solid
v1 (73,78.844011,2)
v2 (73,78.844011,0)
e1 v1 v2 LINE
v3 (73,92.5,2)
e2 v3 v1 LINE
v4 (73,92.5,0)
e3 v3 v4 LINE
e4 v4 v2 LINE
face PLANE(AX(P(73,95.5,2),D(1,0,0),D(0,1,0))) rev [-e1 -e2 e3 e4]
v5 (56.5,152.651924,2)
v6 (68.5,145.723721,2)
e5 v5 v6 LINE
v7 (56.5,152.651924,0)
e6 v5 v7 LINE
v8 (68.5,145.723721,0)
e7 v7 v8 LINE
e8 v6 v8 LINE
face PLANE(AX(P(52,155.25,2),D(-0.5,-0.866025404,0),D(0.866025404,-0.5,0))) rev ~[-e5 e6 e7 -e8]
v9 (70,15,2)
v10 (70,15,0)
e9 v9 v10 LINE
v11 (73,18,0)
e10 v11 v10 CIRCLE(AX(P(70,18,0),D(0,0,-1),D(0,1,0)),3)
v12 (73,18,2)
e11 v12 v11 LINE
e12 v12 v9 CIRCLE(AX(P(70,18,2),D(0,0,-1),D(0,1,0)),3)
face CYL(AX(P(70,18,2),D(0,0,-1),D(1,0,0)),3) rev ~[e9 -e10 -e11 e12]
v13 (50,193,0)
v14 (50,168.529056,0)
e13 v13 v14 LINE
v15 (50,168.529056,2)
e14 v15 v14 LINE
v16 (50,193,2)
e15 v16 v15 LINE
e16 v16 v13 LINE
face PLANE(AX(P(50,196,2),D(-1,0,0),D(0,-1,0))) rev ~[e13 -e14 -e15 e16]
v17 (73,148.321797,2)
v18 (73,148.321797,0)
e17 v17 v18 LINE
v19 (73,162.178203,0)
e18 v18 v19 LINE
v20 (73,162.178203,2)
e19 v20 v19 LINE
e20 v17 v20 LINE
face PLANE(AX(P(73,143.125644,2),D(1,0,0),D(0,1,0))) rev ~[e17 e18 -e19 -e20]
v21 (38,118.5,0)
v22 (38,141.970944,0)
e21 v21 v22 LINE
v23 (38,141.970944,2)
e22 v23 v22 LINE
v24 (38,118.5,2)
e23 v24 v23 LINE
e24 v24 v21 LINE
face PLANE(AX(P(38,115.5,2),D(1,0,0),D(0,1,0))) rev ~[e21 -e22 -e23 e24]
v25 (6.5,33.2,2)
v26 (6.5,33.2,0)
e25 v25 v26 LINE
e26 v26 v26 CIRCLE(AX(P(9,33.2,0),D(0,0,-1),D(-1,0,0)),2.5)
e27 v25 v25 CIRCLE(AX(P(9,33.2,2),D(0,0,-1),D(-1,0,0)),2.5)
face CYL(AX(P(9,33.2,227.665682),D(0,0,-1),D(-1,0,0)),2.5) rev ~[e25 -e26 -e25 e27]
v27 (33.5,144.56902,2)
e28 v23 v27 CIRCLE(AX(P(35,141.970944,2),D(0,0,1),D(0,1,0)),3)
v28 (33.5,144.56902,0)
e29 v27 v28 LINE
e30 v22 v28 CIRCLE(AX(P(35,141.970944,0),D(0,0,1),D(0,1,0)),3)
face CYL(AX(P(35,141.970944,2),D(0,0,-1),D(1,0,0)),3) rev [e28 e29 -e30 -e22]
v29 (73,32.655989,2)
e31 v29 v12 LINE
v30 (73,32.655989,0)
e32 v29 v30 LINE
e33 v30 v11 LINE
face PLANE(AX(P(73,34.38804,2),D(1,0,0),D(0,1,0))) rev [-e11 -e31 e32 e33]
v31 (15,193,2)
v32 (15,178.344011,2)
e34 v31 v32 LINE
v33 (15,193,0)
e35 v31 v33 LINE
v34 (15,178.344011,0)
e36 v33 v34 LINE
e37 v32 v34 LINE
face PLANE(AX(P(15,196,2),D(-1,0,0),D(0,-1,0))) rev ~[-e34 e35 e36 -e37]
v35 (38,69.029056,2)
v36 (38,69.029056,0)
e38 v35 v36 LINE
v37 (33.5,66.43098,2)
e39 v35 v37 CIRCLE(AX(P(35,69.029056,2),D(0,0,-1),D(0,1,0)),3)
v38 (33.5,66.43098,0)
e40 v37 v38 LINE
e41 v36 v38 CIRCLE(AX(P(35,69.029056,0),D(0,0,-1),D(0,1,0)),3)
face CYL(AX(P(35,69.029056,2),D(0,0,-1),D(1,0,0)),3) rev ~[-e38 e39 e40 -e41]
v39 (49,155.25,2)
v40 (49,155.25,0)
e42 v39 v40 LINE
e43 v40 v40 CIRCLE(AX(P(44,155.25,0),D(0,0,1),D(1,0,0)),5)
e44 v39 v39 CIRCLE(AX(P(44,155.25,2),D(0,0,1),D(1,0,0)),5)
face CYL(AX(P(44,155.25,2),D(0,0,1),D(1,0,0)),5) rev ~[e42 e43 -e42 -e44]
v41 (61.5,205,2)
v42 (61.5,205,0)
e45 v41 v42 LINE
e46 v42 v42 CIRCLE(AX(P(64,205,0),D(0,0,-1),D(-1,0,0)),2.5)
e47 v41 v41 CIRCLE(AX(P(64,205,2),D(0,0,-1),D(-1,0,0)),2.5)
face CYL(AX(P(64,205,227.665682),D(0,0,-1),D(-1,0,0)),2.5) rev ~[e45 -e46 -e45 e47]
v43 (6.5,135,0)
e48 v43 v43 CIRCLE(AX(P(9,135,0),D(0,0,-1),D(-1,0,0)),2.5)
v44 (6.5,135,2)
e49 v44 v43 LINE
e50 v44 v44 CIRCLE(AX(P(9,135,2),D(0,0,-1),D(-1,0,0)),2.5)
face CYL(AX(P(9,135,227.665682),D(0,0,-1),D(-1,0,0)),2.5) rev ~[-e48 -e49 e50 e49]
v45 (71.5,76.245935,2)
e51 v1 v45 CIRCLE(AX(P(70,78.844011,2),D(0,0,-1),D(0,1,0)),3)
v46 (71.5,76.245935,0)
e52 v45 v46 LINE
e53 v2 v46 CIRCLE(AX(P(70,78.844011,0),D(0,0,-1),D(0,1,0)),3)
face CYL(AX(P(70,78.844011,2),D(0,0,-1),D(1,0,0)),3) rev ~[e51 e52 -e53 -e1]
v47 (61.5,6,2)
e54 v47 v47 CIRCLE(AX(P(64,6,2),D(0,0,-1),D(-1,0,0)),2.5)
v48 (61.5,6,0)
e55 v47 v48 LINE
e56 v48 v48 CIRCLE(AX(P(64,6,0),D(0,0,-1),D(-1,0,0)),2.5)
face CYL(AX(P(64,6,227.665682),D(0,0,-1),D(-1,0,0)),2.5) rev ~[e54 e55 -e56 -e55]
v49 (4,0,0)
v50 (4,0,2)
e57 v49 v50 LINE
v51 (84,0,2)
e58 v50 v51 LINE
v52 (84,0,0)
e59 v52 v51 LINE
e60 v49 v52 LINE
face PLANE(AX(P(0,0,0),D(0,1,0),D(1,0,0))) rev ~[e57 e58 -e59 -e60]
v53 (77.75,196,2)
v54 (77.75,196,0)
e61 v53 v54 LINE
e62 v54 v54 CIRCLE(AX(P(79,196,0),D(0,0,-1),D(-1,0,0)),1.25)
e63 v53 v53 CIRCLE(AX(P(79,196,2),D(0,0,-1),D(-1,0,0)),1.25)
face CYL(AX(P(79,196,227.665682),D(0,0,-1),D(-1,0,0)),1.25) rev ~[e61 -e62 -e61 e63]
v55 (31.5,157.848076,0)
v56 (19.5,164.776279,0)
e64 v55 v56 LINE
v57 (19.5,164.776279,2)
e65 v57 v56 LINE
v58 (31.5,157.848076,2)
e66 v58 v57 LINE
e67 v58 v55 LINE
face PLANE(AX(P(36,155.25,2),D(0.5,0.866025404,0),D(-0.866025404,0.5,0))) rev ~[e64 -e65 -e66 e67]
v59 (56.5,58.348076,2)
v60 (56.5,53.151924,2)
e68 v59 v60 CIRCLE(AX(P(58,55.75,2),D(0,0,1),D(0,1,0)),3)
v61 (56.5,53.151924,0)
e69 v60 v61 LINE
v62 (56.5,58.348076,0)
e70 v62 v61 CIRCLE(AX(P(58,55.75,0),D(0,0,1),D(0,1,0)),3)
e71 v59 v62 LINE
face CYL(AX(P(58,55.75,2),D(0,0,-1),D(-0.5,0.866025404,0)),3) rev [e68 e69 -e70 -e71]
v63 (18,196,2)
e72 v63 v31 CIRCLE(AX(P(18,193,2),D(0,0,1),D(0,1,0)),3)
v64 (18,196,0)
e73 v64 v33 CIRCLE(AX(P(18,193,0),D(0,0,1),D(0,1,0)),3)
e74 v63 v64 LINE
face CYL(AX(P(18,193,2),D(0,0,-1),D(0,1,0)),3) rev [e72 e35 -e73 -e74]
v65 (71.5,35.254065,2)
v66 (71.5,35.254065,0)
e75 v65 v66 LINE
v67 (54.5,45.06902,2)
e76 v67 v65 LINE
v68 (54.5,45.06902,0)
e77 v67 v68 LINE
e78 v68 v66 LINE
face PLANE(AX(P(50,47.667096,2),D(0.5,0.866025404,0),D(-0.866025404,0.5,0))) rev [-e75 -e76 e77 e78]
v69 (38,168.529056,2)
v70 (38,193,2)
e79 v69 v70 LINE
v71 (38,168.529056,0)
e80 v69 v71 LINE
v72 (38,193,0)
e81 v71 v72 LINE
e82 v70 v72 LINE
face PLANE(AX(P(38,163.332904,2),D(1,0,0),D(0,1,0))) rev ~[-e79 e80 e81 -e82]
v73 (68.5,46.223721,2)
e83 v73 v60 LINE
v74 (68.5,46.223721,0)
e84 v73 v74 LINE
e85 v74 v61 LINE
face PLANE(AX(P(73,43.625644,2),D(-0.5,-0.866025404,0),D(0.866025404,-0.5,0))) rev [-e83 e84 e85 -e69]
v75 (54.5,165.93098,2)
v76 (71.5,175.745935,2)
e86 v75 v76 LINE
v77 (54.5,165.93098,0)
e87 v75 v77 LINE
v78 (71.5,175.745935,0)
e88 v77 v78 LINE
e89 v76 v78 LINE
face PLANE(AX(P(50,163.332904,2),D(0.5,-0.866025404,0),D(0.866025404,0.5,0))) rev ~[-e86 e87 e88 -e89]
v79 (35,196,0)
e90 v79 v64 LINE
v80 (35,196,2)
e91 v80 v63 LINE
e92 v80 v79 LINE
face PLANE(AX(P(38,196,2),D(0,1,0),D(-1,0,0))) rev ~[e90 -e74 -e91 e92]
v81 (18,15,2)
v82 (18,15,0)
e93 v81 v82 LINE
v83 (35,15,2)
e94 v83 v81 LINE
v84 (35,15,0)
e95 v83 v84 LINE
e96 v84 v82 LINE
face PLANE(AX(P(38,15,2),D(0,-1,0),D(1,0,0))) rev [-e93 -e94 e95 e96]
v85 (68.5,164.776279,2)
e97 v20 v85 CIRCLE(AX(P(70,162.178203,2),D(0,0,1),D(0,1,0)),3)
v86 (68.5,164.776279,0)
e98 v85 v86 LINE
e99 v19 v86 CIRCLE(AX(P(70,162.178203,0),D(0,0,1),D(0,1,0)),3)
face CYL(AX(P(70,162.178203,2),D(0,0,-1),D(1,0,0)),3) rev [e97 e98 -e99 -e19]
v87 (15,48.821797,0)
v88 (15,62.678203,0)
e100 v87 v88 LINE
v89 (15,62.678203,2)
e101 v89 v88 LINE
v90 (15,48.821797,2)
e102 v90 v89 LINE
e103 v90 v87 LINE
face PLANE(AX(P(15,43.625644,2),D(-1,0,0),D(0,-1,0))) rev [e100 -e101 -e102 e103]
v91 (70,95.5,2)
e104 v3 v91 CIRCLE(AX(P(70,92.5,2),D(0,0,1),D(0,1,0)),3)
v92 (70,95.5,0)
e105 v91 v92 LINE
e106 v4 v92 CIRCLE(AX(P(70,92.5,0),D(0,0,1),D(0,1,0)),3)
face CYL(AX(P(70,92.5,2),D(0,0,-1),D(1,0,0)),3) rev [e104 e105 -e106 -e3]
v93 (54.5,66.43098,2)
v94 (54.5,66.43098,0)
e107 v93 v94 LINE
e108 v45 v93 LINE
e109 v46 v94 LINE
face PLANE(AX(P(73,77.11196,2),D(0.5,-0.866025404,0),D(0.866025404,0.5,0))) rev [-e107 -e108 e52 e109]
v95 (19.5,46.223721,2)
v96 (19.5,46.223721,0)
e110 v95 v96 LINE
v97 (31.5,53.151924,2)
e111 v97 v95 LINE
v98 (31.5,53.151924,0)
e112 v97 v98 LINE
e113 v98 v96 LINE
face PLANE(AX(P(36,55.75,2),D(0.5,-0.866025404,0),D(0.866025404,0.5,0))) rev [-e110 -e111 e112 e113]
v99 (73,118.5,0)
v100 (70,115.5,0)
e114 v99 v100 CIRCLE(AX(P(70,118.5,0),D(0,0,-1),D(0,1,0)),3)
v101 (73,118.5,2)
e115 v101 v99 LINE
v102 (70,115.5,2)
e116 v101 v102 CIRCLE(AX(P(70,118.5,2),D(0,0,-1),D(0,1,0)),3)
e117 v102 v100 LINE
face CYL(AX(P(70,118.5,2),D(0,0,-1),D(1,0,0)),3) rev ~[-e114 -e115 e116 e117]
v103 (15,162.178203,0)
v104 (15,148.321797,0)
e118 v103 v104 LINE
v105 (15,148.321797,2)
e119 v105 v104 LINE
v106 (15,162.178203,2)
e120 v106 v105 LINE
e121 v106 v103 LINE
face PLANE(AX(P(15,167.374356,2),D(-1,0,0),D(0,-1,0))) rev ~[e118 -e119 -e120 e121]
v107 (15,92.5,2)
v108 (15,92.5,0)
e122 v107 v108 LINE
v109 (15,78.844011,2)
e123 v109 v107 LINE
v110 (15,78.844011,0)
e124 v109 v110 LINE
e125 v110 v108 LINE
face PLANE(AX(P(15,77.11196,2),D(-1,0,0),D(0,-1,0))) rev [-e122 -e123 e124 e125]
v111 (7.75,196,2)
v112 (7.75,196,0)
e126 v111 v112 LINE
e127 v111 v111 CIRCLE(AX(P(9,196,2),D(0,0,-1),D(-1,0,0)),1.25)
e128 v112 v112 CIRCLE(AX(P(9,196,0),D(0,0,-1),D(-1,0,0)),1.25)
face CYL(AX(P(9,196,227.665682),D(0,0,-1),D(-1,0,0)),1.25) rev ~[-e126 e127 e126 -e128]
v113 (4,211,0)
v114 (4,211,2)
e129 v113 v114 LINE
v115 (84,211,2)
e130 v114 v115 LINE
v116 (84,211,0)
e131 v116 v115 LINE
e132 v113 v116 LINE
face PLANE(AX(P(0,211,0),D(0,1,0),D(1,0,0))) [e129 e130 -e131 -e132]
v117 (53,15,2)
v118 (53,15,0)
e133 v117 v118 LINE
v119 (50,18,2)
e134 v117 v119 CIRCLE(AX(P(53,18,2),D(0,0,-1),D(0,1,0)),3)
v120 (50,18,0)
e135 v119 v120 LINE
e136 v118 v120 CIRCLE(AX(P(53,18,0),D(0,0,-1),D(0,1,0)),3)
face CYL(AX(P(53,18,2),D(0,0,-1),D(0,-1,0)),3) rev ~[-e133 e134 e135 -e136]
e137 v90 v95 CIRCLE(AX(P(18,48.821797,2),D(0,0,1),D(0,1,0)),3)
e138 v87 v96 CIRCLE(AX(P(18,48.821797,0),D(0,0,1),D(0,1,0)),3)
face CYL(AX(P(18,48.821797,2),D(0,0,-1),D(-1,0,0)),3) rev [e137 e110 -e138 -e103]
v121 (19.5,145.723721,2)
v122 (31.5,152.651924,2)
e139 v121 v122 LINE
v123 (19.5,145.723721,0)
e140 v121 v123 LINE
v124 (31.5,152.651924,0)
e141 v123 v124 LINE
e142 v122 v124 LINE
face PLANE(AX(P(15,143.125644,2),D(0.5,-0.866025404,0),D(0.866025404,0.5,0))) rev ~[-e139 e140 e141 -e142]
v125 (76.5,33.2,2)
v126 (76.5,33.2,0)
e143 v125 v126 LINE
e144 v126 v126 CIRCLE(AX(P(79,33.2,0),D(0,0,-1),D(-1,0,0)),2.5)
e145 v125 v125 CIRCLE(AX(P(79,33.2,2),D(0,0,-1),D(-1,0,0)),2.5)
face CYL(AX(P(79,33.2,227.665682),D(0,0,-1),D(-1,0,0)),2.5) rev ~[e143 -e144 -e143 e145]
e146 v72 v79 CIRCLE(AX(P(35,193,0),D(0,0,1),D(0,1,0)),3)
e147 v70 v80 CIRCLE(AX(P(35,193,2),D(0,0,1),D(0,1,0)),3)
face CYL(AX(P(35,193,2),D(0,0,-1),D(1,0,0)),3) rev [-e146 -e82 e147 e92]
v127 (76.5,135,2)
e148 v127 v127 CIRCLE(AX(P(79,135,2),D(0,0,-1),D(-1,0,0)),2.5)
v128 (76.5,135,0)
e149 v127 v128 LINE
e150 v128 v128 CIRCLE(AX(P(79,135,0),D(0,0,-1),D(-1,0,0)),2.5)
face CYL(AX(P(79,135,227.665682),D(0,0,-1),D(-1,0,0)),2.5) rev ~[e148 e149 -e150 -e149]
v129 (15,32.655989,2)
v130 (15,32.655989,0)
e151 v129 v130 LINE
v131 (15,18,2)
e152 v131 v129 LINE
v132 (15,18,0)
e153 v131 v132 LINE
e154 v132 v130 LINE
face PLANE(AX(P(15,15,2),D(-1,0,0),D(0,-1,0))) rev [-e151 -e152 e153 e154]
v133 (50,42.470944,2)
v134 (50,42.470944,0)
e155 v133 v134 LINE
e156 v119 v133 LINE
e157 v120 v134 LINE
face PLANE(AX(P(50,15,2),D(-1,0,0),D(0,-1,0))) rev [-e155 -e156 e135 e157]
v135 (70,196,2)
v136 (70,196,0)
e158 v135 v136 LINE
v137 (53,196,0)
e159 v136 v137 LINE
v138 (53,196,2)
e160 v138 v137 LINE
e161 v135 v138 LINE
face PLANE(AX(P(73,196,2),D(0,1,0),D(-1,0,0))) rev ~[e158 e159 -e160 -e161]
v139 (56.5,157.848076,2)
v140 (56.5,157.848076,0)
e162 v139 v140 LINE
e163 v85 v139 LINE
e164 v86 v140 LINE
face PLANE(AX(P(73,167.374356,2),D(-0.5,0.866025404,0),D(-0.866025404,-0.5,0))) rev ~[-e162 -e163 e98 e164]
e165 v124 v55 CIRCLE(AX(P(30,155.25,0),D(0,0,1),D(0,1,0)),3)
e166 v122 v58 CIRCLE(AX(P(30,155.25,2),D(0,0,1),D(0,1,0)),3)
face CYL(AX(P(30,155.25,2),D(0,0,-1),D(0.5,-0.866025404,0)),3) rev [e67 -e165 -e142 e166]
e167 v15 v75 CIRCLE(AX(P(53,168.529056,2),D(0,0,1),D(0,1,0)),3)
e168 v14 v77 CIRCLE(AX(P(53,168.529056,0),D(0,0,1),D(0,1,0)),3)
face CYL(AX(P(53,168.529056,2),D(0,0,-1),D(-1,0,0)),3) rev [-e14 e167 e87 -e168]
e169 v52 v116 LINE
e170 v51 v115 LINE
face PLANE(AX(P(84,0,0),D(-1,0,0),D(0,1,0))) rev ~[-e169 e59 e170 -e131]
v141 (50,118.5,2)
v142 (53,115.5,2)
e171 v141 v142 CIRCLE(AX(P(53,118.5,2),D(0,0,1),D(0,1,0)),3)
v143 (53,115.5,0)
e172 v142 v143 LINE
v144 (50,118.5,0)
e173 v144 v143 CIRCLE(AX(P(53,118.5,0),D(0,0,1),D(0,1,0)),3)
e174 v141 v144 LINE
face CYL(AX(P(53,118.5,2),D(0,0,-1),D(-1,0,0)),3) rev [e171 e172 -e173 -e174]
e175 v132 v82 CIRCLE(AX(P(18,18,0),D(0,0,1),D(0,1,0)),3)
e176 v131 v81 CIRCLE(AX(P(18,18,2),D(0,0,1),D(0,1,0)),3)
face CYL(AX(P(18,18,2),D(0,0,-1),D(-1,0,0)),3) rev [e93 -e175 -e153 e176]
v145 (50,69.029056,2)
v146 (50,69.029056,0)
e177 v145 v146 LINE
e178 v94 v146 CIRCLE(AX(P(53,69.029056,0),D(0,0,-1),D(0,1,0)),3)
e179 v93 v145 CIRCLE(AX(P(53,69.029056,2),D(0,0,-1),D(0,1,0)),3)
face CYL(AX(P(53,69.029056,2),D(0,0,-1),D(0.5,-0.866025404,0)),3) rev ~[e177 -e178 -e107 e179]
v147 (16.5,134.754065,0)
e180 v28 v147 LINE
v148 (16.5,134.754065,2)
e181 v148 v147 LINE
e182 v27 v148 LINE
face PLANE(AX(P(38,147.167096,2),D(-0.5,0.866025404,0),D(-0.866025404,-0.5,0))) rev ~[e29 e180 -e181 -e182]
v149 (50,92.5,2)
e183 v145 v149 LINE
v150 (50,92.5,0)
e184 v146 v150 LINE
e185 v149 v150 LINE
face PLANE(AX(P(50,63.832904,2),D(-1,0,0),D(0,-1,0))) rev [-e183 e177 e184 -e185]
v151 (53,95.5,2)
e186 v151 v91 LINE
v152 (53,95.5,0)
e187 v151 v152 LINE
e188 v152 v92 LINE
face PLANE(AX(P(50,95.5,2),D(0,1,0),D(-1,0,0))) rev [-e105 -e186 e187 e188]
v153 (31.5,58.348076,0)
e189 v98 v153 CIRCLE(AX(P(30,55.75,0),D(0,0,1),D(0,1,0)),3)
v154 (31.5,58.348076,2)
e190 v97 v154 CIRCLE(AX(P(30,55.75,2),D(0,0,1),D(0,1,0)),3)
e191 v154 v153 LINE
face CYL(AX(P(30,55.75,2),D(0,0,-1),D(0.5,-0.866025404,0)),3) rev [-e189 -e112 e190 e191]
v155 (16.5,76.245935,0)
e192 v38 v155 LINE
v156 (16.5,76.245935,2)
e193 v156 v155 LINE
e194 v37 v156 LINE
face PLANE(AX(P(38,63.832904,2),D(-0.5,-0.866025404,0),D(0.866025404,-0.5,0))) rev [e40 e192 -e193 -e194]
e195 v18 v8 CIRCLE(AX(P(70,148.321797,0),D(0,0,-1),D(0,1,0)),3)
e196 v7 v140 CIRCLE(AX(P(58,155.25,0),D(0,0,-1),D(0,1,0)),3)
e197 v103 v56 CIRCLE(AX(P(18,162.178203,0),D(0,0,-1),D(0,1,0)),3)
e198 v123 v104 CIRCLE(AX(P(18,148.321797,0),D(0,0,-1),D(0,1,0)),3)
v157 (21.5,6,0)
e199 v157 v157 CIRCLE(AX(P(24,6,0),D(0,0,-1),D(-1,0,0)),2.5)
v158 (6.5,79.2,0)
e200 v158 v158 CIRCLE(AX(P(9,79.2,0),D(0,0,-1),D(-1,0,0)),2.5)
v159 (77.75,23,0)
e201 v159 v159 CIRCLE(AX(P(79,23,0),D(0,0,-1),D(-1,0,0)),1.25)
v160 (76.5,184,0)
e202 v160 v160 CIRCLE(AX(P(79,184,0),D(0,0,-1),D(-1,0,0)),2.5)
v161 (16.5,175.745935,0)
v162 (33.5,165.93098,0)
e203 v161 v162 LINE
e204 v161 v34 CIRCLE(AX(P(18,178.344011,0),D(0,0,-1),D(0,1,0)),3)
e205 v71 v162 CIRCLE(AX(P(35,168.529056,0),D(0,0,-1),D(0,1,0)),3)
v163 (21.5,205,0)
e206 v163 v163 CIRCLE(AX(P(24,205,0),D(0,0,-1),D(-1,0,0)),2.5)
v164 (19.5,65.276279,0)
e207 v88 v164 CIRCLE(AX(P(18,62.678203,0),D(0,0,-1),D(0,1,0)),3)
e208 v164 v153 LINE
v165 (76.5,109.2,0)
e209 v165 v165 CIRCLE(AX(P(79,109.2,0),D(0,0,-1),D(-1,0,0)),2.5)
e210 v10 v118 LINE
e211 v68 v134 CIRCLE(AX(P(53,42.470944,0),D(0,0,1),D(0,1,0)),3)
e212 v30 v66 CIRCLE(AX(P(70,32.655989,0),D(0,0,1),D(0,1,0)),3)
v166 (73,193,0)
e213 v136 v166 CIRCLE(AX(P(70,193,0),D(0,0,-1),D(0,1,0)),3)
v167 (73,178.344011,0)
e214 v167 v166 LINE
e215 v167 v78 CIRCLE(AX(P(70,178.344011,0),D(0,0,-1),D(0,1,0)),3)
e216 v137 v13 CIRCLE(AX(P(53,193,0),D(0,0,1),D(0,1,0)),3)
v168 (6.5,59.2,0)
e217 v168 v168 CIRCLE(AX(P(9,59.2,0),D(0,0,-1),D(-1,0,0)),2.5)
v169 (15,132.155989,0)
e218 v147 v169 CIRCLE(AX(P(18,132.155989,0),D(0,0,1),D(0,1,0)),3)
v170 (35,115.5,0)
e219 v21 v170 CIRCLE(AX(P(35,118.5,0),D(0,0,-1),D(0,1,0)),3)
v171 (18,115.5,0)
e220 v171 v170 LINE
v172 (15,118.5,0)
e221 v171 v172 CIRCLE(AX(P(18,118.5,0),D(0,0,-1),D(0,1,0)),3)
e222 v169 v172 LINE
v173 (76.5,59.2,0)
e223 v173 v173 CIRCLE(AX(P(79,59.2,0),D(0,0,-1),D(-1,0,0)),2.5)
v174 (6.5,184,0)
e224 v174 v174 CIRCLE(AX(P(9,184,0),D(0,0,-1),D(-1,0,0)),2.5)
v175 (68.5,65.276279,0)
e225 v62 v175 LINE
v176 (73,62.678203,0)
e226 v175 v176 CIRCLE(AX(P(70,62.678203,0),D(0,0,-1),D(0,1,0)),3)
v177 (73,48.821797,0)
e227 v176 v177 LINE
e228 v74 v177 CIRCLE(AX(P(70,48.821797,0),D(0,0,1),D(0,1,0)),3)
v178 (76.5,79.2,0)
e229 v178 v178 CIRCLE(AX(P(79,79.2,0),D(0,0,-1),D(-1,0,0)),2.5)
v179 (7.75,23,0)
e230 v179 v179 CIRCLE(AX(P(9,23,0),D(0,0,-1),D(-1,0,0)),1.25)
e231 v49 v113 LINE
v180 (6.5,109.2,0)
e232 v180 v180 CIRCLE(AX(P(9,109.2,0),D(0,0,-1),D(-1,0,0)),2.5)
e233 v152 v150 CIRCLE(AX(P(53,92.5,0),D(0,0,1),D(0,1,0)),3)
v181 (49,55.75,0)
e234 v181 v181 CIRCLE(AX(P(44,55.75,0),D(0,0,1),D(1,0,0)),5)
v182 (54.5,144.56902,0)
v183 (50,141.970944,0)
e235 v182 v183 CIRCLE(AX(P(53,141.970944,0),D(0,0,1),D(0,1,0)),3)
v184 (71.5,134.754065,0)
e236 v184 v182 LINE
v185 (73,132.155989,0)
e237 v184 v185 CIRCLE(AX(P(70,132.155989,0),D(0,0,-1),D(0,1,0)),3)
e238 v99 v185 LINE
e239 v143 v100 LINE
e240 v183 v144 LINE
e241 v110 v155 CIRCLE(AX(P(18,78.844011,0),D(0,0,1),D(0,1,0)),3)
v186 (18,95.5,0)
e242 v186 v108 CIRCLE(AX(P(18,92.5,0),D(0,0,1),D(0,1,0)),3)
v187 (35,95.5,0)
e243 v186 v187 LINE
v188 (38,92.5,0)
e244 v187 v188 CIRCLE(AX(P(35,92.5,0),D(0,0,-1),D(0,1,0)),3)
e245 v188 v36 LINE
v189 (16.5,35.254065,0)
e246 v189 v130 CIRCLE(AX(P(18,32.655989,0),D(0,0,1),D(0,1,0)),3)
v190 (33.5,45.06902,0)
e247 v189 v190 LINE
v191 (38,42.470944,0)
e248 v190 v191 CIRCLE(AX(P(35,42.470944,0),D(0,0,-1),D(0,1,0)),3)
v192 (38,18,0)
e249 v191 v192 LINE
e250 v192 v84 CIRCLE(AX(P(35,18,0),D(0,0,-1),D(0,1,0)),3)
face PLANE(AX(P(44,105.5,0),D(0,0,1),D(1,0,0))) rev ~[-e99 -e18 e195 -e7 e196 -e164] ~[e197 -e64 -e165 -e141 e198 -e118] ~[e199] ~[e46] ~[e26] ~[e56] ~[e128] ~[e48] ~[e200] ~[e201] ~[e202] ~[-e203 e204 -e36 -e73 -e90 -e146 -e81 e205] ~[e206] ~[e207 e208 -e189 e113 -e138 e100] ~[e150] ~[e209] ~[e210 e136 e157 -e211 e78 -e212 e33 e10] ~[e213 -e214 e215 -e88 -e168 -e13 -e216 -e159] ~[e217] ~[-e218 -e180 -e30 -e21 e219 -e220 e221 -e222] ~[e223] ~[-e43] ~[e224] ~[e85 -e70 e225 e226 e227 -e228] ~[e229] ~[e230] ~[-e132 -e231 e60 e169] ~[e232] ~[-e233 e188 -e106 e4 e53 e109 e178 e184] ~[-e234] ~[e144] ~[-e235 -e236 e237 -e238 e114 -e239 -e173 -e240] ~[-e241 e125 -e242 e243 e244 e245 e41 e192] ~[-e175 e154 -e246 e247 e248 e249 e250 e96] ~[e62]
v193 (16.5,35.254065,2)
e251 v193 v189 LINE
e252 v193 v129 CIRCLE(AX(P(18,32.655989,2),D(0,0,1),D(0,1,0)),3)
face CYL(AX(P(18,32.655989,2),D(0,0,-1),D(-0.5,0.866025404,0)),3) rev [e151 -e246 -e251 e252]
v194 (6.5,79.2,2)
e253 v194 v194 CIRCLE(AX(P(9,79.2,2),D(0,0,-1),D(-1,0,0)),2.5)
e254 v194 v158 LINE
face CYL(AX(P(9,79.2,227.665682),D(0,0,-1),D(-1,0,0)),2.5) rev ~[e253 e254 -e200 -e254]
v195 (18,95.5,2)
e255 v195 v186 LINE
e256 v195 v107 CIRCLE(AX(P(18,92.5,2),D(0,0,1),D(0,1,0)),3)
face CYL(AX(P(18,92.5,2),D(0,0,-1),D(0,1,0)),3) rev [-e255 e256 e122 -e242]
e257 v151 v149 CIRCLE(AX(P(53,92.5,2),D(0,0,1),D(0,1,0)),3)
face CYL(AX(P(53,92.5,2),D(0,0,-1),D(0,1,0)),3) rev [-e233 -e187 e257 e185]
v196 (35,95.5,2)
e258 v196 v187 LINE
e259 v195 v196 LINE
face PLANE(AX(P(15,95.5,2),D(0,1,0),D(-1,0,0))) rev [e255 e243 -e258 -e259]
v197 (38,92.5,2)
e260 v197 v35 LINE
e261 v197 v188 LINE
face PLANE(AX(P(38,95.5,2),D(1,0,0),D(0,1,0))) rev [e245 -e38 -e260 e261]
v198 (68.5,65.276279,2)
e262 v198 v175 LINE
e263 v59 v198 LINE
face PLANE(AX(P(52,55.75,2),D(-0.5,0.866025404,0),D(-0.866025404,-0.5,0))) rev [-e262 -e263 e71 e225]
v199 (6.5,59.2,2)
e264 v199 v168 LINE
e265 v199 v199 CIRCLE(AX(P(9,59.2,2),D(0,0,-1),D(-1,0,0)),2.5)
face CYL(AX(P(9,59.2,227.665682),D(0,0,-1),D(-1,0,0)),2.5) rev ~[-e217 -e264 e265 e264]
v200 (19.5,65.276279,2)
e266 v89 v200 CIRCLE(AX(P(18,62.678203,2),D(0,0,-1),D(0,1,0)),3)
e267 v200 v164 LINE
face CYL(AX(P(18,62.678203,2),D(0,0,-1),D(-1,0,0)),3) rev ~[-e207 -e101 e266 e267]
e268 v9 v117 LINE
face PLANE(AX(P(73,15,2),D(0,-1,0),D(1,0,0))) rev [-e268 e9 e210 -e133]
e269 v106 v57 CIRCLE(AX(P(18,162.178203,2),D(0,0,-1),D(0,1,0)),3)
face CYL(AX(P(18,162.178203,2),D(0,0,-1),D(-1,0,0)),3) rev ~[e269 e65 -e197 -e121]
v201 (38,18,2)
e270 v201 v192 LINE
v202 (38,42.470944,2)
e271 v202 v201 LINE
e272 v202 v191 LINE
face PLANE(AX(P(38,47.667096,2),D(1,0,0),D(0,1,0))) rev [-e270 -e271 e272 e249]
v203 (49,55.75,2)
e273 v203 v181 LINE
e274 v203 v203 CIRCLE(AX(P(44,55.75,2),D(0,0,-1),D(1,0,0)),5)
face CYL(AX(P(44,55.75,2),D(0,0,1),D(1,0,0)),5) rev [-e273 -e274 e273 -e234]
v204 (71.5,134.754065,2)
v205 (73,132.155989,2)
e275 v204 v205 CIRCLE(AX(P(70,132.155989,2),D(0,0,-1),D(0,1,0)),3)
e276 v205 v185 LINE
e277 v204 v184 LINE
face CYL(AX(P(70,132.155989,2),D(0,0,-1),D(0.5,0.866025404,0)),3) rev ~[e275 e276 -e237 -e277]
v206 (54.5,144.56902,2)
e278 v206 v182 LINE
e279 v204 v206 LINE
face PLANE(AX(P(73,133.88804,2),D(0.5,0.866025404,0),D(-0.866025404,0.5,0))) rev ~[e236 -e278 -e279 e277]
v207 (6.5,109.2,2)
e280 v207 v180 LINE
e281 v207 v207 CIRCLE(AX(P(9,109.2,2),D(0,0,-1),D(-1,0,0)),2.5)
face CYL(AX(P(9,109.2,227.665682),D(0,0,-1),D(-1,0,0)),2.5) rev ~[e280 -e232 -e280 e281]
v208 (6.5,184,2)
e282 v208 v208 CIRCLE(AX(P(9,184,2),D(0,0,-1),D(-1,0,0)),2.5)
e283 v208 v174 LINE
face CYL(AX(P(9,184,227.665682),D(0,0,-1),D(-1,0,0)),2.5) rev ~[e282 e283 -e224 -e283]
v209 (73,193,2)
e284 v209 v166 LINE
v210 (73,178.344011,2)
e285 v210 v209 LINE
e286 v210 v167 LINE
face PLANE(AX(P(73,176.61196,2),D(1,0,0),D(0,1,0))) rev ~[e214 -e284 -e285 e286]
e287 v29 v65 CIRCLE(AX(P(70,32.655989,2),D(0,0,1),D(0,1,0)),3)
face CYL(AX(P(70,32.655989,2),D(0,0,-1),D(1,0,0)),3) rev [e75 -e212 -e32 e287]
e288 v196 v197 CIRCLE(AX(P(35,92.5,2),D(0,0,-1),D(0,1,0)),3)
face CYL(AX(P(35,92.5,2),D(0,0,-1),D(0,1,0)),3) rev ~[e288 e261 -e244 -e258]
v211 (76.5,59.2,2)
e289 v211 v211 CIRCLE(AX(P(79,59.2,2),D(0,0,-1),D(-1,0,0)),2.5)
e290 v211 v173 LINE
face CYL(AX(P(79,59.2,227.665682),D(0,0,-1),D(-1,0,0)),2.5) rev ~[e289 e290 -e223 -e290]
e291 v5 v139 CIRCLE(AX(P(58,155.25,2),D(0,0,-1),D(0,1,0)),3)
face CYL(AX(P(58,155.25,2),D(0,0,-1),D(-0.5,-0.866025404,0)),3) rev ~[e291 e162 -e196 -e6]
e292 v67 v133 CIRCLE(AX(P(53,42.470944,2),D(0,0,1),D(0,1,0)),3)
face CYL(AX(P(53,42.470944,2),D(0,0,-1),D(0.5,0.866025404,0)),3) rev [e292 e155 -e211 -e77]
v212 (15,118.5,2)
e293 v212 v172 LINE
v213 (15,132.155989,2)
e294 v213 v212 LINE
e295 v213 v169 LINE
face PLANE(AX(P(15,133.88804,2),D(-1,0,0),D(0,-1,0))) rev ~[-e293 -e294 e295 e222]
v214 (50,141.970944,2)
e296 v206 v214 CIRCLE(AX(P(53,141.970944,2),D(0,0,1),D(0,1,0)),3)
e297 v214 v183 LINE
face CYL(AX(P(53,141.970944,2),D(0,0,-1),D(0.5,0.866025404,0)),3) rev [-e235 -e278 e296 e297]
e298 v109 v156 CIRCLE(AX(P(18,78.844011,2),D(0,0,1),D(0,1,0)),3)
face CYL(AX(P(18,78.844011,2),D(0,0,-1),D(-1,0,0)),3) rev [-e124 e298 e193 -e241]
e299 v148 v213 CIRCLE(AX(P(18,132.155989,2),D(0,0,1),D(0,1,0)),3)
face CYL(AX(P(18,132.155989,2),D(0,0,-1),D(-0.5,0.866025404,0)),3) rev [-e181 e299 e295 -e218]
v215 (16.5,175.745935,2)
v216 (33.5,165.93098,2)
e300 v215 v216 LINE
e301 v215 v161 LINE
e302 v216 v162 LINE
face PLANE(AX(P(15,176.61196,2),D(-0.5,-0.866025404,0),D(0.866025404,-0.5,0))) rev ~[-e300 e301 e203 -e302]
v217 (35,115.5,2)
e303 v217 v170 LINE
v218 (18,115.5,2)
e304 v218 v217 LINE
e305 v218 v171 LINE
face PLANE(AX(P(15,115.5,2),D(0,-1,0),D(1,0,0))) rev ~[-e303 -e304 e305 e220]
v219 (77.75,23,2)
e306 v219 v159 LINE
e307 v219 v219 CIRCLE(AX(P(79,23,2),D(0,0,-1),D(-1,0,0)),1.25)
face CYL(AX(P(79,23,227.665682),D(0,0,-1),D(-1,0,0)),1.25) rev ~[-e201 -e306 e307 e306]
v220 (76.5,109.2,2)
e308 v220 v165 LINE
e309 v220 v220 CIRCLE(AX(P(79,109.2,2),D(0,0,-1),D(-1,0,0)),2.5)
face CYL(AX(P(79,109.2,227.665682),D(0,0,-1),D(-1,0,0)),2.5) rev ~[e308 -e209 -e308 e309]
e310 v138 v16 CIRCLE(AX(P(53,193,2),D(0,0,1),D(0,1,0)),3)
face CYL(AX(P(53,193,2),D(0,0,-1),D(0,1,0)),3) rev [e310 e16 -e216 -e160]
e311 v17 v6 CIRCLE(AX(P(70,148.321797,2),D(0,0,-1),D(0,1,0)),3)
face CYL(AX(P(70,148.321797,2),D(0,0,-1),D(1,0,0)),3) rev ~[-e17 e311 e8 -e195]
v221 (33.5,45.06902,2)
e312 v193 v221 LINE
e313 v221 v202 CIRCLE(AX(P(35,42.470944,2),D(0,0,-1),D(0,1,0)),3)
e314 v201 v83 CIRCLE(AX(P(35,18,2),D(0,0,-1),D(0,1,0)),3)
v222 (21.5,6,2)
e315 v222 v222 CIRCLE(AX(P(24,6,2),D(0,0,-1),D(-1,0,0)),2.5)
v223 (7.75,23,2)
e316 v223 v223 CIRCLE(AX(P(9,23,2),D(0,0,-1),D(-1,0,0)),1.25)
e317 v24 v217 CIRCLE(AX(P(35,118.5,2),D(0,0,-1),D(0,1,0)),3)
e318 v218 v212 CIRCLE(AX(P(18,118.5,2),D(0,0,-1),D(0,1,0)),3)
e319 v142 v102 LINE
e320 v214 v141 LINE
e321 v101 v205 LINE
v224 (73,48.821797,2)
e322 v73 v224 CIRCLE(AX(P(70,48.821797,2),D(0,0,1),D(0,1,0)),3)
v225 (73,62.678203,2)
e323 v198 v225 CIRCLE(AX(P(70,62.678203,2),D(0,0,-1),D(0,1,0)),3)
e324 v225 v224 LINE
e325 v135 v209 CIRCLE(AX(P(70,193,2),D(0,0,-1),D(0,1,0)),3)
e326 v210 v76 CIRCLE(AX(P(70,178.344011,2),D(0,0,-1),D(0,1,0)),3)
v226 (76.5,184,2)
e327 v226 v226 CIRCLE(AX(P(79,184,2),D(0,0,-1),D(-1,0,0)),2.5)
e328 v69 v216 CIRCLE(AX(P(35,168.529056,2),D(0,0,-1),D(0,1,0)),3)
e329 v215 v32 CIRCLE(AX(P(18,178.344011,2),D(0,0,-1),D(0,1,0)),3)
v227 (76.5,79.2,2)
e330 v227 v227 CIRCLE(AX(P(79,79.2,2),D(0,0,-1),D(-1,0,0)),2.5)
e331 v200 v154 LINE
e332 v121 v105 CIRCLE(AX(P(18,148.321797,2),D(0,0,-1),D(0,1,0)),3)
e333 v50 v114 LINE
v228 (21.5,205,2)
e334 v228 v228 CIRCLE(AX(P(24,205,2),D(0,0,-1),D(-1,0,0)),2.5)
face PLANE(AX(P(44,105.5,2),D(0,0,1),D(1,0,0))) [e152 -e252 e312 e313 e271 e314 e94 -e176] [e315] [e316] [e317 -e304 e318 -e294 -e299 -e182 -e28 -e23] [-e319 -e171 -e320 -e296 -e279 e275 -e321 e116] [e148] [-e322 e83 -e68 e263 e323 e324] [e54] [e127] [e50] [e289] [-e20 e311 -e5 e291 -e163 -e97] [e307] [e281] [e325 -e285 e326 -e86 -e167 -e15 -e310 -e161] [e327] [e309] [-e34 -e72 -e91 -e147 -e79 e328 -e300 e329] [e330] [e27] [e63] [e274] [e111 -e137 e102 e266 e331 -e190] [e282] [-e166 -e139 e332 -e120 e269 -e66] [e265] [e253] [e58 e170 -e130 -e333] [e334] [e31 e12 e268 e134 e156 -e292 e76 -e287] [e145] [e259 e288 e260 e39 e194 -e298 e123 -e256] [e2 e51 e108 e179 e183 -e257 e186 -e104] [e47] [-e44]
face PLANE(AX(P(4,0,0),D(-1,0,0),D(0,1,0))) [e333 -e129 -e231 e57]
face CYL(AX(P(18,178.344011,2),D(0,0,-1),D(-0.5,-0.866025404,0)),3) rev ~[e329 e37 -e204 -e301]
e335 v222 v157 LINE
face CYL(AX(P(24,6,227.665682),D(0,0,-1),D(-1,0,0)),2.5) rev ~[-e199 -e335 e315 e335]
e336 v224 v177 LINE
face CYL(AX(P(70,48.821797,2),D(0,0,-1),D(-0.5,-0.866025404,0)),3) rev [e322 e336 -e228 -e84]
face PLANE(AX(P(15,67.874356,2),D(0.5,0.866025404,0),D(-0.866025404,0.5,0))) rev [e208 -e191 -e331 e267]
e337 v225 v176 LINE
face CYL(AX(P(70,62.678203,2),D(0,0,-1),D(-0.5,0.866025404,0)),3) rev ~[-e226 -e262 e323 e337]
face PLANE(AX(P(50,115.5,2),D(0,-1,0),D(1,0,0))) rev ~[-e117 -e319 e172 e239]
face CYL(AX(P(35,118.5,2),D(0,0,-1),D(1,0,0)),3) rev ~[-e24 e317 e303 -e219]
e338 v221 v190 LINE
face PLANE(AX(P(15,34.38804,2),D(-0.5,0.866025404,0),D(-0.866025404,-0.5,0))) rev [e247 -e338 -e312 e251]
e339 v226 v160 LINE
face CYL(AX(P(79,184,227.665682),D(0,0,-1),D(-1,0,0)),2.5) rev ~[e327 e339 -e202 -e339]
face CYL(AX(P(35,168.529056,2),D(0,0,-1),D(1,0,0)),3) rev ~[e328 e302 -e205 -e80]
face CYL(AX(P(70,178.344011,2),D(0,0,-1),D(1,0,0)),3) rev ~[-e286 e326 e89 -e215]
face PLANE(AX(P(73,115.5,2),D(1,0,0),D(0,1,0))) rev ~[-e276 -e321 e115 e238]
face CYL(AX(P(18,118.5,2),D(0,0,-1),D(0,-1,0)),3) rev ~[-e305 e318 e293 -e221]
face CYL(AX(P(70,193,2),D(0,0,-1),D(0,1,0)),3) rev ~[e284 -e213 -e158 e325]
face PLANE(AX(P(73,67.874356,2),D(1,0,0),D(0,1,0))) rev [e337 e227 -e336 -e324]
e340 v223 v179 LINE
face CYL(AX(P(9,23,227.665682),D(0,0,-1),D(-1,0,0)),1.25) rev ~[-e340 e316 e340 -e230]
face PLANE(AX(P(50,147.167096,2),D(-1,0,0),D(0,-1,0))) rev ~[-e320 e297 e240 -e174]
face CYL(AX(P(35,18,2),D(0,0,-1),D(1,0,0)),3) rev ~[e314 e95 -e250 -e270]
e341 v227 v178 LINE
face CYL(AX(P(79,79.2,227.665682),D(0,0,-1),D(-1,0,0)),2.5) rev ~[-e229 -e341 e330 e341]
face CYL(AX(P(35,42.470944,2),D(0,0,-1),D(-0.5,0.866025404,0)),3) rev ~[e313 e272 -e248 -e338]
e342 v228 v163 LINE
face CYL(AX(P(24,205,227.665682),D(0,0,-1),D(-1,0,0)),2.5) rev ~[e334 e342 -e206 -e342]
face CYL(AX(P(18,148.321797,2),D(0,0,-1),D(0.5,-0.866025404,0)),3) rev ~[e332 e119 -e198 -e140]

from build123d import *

# Parameters (mm, degrees)
SKETCH1_W                   = 88
SKETCH1_H                   = 211
BOSS_EXTRUDE1_DEPTH         = 2
CUT_EXTRUDE2_DEPTH          = 2
SKETCH4_R                   = 5
CUT_EXTRUDE3_DEPTH          = 3
FILLET2_R                   = 3
SKETCH23_W                  = 2
SKETCH23_H                  = 211
SKETCH23_W_2                = 2.150374681
CUT_EXTRUDE5_DEPTH          = 10
SKETCH29_W                  = 5.911493913
SKETCH29_H                  = 211
SKETCH29_W_2                = 4.036537762
CUT_EXTRUDE10_DEPTH         = 2
F_5_0MM_DOWEL_HOLE1_D       = 5
TAP_DRILL_FOR_M3X0_5_TAP1_D = 2.5


with BuildPart() as part:
    # Sketch1 → Boss-Extrude1 (new body)
    with BuildSketch(Plane.XY):
        with Locations((44, 105.5)):
            Rectangle(SKETCH1_W, SKETCH1_H)
    extrude(amount=BOSS_EXTRUDE1_DEPTH)

    # Sketch3 → Cut-Extrude2 (cut)
    with BuildSketch(Plane.XY.offset(2)):
        Polygon((73, 133.88804004), (50, 147.167096231), (50, 115.5), (73, 115.5), align=None)
        Polygon((38, 115.5), (38, 147.167096231), (15, 133.88804004), (15, 115.5), align=None)
        Polygon((15, 143.125644347), (36, 155.25), (15, 167.374355653), align=None)
        Polygon((73, 143.125644347), (73, 167.374355653), (52, 155.25), align=None)
        Polygon((73, 196), (50, 196), (50, 163.332903769), (73, 176.61195996), align=None)
        Polygon((38, 163.332903769), (38, 196), (15, 196), (15, 176.61195996), align=None)
    cut_extrude2 = extrude(amount=-CUT_EXTRUDE2_DEPTH, mode=Mode.SUBTRACT)

    # Sketch4 → Cut-Extrude3 (cut, through all)
    with BuildSketch(Plane.XY.offset(2)):
        with Locations((44, 155.25)):
            Circle(SKETCH4_R)
    cut_extrude3 = extrude(amount=-CUT_EXTRUDE3_DEPTH, mode=Mode.SUBTRACT)

    # Mirror2: Cut-Extrude2, Cut-Extrude3 across plane
    add(cut_extrude2.mirror(Plane.ZX.offset(105.5)), mode=Mode.SUBTRACT)
    add(cut_extrude3.mirror(Plane.ZX.offset(105.5)), mode=Mode.SUBTRACT)

    # Fillet2
    fillet2_edges = [part.edges().sort_by_distance(p)[0] for p in [
        (36, 55.75, 1),
        (15, 43.625644347, 1),
        (15, 67.874355653, 1),
        (38, 95.5, 1),
        (38, 63.832903769, 1),
        (15, 77.11195996, 1),
        (15, 95.5, 1),
        (73, 15, 1),
        (50, 15, 1),
        (50, 47.667096231, 1),
        (73, 34.38804004, 1),
        (73, 43.625644347, 1),
        (52, 55.75, 1),
        (73, 67.874355653, 1),
        (15, 15, 1),
        (15, 34.38804004, 1),
        (38, 47.667096231, 1),
        (38, 15, 1),
        (73, 77.11195996, 1),
        (50, 63.832903769, 1),
        (50, 95.5, 1),
        (73, 95.5, 1),
        (15, 167.374355653, 1),
        (36, 155.25, 1),
        (15, 143.125644347, 1),
        (38, 147.167096231, 1),
        (38, 115.5, 1),
        (15, 115.5, 1),
        (15, 133.88804004, 1),
        (50, 196, 1),
        (73, 196, 1),
        (73, 176.61195996, 1),
        (50, 163.332903769, 1),
        (52, 155.25, 1),
        (73, 167.374355653, 1),
        (73, 143.125644347, 1),
        (15, 176.61195996, 1),
        (15, 196, 1),
        (38, 196, 1),
        (38, 163.332903769, 1),
        (50, 147.167096231, 1),
        (73, 133.88804004, 1),
        (73, 115.5, 1),
        (50, 115.5, 1),
    ]]
    fillet(fillet2_edges, radius=FILLET2_R)

    # Sketch23 → Cut-Extrude5 (cut)
    with BuildSketch(Plane.XY.offset(2)):
        with Locations((87, 105.5)):
            Rectangle(SKETCH23_W, SKETCH23_H)
        with Locations((1.075187341, 105.5)):
            Rectangle(SKETCH23_W_2, SKETCH23_H)
    extrude(amount=-CUT_EXTRUDE5_DEPTH, mode=Mode.SUBTRACT)

    # Sketch29 → Cut-Extrude10 (cut)
    with BuildSketch(Plane(origin=(0, 0, 0), x_dir=(-1, 0, 0), z_dir=(0, 0, -1))):
        with Locations((-1.044253043, 105.5)):
            Rectangle(SKETCH29_W, SKETCH29_H)
        with Locations((-86.018268881, 105.5)):
            Rectangle(SKETCH29_W_2, SKETCH29_H)
    extrude(amount=-CUT_EXTRUDE10_DEPTH, mode=Mode.SUBTRACT)

    # Ø5.0mm Dowel Hole1 (through all)
    with Locations(Plane.XY.offset(2)):
        with Locations((24, 205), (64, 205), (9, 184), (79, 184), (9, 135), (79, 135), (79, 109.2), (9, 109.2), (9, 79.2), (79, 79.2), (79, 59.2), (9, 59.2), (9, 33.2), (79, 33.2), (64, 6), (24, 6)):
            Hole(F_5_0MM_DOWEL_HOLE1_D / 2)

    # Tap Drill for M3x0.5 Tap1 (through all)
    with Locations(Plane.XY.offset(2)):
        with Locations((9, 23), (79, 23), (9, 196), (79, 196)):
            Hole(TAP_DRILL_FOR_M3X0_5_TAP1_D / 2)


solid = part.part
